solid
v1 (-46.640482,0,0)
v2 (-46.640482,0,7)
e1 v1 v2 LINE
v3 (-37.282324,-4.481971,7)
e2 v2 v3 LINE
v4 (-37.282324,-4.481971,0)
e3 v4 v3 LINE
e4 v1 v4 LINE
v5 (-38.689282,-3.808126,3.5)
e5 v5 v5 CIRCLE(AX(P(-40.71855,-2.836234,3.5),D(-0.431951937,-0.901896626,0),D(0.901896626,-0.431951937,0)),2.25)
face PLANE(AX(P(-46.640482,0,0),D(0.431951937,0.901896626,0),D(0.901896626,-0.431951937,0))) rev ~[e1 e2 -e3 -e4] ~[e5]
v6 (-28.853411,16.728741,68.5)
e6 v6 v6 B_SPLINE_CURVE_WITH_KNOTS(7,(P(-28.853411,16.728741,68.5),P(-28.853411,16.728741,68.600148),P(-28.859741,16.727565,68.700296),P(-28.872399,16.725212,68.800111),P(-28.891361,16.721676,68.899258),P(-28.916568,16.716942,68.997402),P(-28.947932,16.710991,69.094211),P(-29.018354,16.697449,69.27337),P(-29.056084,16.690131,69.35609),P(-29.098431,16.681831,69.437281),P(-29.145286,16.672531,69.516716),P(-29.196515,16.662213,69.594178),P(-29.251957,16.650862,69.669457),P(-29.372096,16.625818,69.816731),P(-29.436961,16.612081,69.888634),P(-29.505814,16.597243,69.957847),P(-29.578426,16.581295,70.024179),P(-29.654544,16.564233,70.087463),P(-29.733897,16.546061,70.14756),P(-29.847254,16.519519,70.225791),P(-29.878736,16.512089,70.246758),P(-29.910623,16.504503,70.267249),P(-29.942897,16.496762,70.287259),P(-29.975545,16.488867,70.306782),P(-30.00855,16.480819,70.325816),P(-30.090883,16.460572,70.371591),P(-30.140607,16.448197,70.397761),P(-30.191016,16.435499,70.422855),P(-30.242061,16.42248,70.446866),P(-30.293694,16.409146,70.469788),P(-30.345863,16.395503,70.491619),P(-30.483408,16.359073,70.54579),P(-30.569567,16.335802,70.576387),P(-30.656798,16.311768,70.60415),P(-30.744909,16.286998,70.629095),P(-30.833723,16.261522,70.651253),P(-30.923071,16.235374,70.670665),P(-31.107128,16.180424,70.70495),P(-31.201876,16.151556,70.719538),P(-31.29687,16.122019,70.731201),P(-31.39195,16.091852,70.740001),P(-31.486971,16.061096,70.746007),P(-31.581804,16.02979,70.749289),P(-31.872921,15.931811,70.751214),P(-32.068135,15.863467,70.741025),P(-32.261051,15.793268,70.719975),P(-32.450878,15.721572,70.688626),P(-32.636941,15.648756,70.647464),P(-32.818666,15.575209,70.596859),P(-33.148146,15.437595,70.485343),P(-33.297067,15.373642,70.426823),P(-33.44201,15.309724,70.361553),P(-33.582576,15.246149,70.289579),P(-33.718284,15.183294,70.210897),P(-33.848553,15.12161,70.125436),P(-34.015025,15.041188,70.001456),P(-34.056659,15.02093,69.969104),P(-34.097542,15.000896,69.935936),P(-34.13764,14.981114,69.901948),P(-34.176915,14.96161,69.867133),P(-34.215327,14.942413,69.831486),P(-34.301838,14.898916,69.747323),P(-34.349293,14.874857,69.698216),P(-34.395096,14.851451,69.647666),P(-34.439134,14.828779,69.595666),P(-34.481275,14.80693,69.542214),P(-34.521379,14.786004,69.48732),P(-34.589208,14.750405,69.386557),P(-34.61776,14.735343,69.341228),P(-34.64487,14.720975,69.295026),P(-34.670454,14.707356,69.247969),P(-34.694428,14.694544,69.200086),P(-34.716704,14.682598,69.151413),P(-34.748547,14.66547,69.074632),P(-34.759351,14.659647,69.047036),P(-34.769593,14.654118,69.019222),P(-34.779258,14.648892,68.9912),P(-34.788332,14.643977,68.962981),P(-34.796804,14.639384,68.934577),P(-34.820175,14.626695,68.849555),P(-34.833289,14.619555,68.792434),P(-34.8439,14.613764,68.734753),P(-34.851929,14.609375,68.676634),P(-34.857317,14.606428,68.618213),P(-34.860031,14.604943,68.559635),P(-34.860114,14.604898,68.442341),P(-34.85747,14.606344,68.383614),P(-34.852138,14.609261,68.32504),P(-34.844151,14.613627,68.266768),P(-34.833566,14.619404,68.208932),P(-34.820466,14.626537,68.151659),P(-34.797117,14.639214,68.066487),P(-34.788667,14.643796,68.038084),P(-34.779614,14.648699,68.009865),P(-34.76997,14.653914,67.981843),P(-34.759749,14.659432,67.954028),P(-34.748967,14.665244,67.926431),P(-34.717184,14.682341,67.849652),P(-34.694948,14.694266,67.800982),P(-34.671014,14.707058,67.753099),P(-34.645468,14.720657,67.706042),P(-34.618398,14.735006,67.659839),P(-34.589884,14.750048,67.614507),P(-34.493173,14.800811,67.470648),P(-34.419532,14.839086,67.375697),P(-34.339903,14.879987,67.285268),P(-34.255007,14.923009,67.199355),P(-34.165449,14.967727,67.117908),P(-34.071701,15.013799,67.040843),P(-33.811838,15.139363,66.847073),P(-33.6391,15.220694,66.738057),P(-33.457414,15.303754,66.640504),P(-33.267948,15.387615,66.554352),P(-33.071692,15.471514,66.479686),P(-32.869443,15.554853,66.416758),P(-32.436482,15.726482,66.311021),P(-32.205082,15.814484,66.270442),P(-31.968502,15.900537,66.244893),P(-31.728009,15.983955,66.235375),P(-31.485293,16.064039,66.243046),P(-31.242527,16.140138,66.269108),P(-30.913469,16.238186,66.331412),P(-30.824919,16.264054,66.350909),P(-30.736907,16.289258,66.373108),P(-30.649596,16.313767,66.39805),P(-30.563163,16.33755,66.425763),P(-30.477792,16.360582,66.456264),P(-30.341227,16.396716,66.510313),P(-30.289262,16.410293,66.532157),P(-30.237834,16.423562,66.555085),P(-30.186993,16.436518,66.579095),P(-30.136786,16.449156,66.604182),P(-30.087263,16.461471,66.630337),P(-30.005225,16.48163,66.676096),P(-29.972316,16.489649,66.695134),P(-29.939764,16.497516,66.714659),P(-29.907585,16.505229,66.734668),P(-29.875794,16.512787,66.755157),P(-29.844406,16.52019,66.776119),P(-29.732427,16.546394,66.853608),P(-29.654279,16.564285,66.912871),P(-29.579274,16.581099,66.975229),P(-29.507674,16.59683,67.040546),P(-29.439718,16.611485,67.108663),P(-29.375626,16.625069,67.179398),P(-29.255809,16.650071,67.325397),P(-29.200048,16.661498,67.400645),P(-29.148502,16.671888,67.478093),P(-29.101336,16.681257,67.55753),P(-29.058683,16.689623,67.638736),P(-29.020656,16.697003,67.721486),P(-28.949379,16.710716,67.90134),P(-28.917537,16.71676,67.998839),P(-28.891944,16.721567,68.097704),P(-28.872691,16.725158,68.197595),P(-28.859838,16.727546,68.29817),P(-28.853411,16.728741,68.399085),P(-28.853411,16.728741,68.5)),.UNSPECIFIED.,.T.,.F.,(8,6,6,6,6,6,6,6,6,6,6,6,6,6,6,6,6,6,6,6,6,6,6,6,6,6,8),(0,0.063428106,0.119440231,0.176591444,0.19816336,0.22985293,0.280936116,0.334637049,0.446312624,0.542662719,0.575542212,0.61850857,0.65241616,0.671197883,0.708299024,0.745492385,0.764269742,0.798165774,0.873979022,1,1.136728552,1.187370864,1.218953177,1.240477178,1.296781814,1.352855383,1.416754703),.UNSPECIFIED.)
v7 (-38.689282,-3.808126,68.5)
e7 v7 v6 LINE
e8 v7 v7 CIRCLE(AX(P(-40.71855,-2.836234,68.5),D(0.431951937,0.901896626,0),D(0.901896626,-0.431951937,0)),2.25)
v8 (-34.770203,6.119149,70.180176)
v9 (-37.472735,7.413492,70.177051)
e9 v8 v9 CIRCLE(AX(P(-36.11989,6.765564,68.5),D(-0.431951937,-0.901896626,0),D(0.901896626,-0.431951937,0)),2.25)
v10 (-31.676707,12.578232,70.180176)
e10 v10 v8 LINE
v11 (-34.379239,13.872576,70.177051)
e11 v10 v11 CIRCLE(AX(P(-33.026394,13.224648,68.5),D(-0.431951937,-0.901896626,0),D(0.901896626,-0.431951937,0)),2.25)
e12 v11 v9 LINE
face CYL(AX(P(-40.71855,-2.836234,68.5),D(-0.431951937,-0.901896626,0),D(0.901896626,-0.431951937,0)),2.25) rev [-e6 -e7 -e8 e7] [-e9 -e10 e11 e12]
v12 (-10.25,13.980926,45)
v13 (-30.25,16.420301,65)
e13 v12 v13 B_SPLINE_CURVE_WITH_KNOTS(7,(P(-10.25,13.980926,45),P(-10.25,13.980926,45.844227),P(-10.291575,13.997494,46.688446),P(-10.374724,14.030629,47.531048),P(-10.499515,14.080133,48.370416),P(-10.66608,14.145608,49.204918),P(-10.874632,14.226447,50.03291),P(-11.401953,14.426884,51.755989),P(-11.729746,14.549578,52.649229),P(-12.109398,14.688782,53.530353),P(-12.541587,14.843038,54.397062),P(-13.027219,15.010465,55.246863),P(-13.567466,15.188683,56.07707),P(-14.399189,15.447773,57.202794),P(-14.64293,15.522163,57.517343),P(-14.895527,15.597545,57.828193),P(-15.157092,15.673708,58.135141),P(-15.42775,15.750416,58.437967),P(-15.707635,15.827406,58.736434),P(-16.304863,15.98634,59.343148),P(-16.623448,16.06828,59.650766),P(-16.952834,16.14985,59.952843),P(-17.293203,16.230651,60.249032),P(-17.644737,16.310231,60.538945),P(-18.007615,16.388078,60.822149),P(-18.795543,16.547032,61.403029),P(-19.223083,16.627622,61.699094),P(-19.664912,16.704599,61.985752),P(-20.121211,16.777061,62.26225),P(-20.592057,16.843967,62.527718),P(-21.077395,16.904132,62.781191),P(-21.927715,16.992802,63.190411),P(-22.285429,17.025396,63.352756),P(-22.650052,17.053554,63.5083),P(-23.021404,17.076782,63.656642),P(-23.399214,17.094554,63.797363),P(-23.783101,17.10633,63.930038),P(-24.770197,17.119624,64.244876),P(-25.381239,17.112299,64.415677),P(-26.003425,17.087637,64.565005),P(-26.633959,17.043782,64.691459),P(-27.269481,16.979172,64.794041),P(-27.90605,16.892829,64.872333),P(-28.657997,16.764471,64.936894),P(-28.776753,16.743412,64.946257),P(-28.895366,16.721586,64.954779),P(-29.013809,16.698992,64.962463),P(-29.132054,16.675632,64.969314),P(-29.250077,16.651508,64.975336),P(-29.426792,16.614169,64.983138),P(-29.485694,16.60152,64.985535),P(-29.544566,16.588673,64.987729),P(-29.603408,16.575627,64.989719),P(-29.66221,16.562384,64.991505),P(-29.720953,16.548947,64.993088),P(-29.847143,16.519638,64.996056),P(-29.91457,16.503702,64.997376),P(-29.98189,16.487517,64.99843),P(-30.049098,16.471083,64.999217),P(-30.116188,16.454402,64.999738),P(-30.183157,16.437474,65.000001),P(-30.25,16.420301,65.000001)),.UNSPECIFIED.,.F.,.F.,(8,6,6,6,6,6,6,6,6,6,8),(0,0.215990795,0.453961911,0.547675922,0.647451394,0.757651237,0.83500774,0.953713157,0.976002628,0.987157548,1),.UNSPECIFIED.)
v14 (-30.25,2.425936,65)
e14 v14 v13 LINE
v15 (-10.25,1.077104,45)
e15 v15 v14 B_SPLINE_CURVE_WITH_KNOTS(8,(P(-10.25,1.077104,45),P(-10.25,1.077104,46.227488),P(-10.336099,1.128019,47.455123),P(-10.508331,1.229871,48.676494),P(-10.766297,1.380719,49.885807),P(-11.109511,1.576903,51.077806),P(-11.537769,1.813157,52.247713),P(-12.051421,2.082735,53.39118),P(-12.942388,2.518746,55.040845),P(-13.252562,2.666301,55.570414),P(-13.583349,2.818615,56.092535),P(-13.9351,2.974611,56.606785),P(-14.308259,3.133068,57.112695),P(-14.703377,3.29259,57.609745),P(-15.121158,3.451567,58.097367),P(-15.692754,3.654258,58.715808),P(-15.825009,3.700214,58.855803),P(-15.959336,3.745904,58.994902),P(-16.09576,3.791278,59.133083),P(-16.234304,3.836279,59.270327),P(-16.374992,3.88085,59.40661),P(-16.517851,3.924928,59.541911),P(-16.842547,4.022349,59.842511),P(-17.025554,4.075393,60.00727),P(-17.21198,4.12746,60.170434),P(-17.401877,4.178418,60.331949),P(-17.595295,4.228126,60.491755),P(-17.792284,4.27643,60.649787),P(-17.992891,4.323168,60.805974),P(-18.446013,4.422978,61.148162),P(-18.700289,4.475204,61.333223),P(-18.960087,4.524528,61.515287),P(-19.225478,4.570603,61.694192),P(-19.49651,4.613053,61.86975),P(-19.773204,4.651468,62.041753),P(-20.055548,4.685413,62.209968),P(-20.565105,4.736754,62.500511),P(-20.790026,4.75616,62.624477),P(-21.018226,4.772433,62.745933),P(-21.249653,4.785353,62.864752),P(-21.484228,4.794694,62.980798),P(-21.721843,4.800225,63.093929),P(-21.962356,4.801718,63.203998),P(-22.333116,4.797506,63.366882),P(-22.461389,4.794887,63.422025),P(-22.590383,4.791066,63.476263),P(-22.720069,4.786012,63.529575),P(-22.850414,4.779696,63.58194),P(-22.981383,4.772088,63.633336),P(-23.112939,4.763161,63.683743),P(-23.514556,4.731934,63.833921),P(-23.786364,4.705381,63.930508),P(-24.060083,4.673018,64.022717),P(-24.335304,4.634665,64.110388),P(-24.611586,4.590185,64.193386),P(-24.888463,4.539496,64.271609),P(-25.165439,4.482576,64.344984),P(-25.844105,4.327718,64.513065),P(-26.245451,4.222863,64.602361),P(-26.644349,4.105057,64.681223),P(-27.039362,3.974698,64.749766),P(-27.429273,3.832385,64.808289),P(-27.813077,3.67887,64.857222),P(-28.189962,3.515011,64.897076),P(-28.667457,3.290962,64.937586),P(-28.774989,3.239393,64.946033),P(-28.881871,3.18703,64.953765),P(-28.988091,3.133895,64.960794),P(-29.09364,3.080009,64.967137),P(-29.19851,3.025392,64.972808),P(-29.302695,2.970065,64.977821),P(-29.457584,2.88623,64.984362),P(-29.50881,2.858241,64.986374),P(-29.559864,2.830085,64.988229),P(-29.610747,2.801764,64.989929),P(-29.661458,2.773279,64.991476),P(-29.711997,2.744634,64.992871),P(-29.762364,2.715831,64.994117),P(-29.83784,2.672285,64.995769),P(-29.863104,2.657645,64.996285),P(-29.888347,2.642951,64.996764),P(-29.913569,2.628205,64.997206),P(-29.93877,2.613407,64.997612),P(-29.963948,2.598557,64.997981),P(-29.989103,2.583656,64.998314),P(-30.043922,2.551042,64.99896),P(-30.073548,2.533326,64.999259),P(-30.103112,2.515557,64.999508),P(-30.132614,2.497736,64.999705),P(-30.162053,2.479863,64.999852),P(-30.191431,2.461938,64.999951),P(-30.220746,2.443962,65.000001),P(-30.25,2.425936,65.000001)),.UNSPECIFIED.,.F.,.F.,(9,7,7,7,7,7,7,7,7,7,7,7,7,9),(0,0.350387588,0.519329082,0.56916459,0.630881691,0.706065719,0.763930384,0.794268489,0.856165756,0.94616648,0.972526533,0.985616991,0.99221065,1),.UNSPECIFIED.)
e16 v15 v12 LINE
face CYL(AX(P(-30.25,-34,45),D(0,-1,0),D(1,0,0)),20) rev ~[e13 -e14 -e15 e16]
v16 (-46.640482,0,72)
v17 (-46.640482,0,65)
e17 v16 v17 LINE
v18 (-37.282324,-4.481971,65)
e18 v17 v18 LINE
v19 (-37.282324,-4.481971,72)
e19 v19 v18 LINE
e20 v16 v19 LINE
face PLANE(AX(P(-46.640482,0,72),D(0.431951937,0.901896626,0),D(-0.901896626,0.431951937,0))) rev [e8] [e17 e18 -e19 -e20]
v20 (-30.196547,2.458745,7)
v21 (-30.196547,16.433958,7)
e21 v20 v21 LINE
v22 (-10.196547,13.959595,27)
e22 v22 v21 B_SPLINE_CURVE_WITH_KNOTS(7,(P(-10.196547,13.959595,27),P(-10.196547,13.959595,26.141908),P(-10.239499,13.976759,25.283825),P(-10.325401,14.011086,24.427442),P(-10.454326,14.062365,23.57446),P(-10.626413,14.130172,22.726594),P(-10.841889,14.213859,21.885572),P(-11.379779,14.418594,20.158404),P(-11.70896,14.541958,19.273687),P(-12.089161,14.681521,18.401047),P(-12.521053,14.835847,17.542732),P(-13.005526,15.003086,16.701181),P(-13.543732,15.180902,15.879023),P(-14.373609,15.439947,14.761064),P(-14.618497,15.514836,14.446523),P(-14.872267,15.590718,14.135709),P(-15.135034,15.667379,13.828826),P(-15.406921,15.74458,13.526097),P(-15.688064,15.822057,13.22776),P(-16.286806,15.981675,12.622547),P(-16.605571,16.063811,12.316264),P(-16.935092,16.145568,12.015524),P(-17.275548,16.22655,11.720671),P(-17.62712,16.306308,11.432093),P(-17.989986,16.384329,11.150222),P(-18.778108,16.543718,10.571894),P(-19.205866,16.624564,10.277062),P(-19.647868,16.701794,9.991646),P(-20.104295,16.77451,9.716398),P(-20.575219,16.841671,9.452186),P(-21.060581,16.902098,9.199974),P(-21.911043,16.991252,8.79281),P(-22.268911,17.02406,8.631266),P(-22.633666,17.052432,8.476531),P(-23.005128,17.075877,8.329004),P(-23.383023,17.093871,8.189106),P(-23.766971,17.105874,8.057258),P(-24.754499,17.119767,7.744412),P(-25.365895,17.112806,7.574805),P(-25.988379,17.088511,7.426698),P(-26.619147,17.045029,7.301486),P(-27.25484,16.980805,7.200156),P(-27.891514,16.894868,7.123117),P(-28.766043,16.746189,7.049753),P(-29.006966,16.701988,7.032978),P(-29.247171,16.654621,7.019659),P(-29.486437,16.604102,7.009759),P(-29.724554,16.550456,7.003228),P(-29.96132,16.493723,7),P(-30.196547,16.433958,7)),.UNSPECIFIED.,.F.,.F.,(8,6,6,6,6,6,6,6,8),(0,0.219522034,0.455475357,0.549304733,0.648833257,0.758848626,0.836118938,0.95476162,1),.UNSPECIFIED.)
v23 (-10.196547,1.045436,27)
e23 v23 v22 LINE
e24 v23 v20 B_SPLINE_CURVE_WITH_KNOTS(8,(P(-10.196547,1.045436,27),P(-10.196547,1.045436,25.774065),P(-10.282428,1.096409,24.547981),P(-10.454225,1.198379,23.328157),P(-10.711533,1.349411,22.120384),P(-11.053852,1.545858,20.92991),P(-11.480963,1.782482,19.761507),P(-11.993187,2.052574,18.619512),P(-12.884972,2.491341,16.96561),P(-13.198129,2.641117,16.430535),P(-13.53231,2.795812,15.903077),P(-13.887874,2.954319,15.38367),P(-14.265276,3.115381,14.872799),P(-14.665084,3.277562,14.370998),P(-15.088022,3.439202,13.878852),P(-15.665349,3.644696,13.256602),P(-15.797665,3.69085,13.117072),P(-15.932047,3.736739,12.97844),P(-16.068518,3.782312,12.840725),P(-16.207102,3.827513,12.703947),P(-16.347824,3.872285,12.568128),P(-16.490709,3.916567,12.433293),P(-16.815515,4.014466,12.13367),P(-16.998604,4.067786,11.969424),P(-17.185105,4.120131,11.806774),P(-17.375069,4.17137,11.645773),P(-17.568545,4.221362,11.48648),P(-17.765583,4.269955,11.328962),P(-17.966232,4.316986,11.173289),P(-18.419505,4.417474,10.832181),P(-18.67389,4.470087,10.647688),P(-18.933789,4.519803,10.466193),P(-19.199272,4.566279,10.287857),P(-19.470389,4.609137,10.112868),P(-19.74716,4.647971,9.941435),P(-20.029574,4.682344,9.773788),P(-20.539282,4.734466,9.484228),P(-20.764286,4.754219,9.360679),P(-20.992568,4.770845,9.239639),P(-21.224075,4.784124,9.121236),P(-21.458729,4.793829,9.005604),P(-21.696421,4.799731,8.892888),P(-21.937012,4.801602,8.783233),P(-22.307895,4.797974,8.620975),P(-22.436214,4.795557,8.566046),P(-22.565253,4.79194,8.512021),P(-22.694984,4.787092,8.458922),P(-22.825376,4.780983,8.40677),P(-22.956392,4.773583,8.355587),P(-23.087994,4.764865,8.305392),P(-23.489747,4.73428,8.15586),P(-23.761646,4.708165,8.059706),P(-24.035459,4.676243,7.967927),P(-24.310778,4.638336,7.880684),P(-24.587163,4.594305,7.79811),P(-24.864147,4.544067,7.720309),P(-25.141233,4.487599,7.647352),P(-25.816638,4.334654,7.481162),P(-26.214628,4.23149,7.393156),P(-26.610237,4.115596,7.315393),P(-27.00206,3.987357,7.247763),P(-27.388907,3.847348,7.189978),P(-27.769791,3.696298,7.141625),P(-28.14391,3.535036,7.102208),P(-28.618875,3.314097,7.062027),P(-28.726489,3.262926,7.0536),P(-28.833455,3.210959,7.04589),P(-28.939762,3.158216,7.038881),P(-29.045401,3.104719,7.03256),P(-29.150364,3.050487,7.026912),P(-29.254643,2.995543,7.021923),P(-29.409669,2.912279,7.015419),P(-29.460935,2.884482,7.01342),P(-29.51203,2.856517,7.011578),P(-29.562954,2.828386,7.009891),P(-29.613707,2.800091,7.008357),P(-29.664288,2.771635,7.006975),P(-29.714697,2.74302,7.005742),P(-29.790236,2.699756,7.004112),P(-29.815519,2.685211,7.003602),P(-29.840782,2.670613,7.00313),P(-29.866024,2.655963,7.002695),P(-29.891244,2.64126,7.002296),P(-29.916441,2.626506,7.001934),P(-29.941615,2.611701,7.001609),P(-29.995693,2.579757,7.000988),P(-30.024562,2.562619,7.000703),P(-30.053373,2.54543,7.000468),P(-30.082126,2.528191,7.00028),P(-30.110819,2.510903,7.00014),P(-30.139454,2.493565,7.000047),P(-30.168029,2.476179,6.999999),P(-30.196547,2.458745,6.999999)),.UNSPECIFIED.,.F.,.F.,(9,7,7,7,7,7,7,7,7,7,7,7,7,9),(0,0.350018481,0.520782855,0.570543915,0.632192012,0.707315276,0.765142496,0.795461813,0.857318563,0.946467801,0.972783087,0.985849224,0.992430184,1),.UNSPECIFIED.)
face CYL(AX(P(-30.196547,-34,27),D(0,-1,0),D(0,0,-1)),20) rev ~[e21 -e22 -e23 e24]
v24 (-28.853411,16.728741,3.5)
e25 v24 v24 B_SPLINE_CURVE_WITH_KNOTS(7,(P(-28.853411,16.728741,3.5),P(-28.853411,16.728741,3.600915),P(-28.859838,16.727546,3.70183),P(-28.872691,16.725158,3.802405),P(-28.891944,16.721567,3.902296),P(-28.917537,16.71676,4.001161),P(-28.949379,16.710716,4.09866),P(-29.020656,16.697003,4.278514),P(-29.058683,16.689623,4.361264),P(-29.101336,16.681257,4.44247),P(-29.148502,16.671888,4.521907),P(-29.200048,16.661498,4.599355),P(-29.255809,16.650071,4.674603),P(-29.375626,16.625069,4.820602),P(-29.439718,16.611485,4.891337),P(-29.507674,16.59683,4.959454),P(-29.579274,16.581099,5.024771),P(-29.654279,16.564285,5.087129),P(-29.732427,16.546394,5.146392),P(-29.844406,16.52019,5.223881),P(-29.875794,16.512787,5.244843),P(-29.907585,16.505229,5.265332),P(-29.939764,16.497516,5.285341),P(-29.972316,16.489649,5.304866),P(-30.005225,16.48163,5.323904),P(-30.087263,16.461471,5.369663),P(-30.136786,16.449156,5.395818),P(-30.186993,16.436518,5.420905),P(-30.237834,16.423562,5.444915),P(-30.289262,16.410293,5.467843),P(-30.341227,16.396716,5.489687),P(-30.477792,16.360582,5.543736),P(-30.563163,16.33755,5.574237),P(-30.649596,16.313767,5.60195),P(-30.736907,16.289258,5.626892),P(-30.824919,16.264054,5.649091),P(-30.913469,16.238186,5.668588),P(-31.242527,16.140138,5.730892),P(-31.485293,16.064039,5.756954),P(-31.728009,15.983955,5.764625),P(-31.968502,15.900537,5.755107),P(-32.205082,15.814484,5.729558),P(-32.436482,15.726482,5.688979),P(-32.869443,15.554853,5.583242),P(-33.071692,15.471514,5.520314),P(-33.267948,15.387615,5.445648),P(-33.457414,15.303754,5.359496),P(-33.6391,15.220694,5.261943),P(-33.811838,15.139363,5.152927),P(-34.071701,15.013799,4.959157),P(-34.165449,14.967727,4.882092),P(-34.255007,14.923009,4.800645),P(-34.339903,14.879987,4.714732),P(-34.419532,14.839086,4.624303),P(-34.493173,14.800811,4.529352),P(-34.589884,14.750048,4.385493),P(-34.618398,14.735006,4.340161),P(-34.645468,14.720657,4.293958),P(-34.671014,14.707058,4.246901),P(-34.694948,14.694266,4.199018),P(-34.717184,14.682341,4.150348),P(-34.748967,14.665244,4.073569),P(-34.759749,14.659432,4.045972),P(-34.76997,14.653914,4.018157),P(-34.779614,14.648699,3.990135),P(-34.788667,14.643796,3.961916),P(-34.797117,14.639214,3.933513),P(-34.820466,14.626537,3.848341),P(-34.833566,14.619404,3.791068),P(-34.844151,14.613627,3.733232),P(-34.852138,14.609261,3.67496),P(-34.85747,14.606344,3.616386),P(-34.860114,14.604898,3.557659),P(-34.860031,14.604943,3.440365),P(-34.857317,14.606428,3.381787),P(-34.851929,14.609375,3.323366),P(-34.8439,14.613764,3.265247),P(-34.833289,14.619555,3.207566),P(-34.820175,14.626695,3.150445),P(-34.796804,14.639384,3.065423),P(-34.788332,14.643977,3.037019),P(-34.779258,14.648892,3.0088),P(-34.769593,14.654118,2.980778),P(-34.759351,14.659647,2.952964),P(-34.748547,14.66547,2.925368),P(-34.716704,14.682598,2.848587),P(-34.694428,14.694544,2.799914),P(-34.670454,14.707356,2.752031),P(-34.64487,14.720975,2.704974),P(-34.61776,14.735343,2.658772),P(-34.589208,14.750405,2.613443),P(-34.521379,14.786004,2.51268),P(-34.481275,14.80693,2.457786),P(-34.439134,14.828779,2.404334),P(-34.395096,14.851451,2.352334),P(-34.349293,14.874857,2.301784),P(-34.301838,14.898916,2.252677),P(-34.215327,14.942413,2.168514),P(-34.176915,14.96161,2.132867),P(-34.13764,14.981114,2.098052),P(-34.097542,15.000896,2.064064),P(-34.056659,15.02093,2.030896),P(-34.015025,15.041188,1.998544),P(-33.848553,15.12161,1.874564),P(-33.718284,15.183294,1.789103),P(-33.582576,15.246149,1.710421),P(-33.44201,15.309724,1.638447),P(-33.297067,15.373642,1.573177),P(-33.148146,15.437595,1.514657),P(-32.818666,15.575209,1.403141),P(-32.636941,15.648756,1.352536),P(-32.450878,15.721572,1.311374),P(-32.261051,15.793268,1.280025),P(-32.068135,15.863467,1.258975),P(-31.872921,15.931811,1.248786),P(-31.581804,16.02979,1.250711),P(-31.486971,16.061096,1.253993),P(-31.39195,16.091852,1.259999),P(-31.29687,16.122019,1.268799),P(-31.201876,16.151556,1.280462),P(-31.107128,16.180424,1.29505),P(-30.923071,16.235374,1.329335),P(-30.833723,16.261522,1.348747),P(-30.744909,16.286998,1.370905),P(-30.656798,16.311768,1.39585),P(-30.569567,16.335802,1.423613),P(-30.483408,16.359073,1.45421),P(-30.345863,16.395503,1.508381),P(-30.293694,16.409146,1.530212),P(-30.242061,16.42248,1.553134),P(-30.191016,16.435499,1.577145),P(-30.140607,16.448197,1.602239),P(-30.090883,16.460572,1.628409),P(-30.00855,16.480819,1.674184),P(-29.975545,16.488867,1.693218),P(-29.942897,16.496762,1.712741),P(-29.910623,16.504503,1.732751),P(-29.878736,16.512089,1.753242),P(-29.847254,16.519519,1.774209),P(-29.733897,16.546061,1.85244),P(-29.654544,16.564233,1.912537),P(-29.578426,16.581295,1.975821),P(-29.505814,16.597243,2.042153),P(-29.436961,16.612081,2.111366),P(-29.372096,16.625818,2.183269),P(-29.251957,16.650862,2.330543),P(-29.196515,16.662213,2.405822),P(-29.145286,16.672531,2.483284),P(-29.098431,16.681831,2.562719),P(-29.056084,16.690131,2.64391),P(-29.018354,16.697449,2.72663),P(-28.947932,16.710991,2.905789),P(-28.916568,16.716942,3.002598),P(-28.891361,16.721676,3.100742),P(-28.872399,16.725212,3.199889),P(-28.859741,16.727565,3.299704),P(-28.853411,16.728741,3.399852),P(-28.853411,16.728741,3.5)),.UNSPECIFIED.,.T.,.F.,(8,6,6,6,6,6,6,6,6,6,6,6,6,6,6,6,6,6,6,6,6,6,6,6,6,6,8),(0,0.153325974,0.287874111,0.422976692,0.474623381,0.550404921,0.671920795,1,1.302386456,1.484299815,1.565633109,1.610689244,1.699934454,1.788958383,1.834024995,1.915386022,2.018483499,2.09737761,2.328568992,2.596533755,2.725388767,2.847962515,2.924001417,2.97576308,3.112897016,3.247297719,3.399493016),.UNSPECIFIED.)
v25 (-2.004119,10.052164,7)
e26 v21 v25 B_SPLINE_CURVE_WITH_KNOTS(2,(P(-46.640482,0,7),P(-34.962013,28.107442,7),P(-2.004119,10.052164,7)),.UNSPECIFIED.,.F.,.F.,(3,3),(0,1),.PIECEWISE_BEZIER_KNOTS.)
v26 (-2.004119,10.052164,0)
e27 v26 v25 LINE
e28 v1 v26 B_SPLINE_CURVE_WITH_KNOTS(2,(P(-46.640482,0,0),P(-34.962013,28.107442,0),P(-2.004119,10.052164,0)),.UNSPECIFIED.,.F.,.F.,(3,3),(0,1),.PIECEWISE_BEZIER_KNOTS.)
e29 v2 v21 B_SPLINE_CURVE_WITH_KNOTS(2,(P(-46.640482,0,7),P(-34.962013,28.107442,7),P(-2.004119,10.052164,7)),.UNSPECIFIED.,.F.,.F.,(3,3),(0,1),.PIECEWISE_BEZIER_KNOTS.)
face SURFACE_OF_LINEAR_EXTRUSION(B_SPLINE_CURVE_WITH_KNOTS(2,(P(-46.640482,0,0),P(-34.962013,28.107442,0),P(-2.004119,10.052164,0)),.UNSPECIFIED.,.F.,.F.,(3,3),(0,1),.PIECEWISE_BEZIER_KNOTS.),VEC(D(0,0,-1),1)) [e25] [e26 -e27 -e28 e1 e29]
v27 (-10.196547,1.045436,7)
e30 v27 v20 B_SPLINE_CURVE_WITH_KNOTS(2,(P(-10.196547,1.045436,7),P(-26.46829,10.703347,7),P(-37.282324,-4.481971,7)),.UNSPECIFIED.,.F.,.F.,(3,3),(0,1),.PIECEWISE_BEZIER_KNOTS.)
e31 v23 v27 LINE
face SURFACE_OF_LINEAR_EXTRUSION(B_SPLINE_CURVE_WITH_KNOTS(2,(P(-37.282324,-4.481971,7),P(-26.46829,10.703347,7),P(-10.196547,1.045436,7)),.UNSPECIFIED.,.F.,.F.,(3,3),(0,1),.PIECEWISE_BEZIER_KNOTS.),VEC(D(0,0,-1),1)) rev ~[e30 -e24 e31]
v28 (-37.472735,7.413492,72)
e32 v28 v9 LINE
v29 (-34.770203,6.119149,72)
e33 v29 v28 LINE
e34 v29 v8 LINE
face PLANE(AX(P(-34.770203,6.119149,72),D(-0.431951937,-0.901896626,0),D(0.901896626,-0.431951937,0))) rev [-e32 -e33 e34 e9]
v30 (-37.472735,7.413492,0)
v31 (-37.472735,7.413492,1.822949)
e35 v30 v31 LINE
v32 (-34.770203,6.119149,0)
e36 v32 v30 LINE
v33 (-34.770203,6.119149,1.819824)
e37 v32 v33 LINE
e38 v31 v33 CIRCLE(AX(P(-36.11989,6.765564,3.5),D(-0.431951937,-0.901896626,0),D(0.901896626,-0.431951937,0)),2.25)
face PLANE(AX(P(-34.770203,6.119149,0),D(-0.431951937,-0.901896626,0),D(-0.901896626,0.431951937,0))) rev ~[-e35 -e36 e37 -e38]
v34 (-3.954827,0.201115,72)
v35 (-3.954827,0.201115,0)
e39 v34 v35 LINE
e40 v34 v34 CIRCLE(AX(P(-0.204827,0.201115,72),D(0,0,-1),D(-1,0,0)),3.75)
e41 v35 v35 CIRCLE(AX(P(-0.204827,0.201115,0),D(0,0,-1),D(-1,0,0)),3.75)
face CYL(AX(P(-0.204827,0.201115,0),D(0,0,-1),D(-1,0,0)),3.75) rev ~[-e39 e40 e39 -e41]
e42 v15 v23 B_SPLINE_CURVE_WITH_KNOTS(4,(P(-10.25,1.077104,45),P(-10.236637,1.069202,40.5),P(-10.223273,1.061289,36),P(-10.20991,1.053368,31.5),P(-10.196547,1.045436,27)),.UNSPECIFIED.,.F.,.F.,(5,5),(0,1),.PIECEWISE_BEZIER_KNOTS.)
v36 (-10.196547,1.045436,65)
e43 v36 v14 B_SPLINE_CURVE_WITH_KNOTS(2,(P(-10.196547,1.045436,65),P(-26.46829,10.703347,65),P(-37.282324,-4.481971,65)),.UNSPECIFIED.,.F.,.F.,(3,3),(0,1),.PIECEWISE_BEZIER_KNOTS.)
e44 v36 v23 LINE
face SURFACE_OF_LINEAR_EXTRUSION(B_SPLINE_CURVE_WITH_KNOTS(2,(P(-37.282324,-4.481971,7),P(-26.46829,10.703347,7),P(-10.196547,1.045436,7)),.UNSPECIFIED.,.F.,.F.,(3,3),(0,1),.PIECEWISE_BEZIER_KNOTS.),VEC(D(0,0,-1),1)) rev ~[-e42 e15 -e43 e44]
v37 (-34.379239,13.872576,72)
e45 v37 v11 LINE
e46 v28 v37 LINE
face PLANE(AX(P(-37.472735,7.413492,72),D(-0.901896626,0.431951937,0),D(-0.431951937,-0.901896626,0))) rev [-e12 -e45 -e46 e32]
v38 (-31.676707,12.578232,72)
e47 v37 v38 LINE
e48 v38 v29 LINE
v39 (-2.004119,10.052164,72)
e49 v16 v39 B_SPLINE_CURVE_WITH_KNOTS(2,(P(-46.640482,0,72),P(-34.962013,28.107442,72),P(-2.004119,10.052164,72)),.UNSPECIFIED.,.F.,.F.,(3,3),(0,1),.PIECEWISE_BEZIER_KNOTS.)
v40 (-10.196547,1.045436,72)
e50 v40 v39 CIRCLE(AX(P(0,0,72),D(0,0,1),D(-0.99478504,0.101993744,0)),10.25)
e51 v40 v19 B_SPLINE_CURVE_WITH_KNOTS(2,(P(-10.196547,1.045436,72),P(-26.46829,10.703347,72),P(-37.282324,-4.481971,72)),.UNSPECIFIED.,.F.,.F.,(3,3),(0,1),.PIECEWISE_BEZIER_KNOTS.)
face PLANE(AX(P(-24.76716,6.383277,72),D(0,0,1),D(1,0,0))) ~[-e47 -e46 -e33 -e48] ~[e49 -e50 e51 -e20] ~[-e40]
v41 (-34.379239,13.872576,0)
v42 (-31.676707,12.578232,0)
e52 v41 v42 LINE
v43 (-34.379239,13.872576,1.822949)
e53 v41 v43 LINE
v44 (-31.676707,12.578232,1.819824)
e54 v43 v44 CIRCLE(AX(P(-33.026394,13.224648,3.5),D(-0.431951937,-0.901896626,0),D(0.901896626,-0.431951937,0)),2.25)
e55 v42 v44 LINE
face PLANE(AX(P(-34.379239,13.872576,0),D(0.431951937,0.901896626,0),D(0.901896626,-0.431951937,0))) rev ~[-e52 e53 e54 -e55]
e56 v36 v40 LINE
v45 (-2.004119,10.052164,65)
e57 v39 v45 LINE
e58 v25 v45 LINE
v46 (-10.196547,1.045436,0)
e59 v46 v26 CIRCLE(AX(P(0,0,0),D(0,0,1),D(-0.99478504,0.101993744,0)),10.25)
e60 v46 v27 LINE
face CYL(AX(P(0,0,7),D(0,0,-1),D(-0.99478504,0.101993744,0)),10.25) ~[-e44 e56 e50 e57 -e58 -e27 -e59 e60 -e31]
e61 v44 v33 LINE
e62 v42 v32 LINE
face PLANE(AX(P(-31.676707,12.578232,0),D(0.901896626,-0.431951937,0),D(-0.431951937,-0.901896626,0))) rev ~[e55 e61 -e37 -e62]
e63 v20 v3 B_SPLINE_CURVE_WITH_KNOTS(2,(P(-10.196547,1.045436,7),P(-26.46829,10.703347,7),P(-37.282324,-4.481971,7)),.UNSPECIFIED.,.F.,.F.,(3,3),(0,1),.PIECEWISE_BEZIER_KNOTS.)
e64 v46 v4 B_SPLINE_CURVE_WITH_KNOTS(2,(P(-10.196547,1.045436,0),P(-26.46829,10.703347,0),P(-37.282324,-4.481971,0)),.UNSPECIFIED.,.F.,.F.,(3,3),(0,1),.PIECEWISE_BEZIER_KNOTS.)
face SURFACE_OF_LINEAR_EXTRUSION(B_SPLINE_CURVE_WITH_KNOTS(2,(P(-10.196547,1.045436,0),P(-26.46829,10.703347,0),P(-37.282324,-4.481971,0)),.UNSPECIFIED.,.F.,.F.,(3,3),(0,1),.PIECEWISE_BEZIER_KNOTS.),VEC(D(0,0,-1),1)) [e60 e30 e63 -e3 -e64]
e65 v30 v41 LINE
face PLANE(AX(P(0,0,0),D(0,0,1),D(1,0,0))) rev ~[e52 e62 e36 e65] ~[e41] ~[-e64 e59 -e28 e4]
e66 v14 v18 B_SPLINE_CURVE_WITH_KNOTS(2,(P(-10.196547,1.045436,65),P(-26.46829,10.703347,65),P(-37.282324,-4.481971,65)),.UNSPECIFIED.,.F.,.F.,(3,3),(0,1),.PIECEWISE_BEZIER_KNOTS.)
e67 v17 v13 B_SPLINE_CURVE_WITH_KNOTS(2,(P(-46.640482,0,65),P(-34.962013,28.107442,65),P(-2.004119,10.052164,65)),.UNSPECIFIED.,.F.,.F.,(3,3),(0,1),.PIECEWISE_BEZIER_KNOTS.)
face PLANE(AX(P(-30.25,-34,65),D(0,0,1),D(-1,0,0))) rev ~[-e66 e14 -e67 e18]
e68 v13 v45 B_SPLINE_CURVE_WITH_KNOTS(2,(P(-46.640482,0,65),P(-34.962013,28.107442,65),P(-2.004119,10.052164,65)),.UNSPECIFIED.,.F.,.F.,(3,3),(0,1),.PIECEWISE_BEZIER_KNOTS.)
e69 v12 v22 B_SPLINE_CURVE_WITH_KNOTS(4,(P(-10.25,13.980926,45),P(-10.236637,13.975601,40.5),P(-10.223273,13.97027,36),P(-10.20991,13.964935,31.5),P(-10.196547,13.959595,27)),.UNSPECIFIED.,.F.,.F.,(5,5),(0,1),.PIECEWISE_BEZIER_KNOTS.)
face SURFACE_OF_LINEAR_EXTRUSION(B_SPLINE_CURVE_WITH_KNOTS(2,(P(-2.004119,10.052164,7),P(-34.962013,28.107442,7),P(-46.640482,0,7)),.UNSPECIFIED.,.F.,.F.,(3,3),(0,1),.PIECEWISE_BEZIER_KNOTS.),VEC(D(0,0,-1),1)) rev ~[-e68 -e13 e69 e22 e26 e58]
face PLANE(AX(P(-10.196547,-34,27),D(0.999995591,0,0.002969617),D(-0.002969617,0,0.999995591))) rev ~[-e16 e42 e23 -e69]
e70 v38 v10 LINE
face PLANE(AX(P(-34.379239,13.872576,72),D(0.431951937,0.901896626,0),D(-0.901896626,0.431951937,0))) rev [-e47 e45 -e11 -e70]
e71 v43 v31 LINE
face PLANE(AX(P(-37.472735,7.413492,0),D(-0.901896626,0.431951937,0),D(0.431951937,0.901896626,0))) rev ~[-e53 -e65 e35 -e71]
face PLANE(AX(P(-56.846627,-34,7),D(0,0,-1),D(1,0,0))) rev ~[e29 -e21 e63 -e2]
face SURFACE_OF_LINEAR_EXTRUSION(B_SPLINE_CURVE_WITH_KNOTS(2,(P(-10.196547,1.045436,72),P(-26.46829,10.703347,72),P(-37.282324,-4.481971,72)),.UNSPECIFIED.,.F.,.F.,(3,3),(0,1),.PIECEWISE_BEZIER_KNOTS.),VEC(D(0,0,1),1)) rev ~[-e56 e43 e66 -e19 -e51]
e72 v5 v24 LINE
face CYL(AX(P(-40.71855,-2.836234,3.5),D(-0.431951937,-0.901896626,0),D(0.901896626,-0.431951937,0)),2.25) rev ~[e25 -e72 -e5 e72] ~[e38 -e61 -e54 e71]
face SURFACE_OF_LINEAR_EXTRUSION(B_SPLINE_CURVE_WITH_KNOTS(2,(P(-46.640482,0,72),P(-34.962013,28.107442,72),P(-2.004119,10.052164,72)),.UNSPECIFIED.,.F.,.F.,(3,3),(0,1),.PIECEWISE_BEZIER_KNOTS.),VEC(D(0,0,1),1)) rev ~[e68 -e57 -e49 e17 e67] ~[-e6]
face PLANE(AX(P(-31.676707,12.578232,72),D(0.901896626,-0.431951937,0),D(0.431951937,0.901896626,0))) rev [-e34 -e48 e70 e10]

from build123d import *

# Parameters (mm, degrees)
SKETCH1_R                = 10.25
BOSS_EXTRUDE1_DEPTH      = 7
SKETCH2_R                = 3.75
CUT_EXTRUDE1_DEPTH       = 2
BOSS_EXTRUDE3_START      = -7
BOSS_EXTRUDE3_DEPTH      = 7
SKETCH11_R               = 2.25
CUT_EXTRUDE3_DEPTH       = 30
CUT_EXTRUDE4_DEPTH       = 3
SKETCH15_R               = 10.25
BOSS_EXTRUDE4_DEPTH      = 65
BOSS_EXTRUDE5_DEPTH      = 58
CUT_EXTRUDE5_DEPTH       = 44
CUT_EXTRUDE5_DEPTH_BACK  = 34
BOSS_EXTRUDE6_DEPTH      = 15
BOSS_EXTRUDE6_DEPTH_BACK = 20
SKETCH20_R               = 10.25
SKETCH21_R               = 3.75
CUT_EXTRUDE6_DEPTH       = 92


with BuildPart() as part:
    # Sketch1 → Boss-Extrude1 (new body)
    with BuildSketch(Plane.XY):
        Circle(SKETCH1_R)
    extrude(amount=BOSS_EXTRUDE1_DEPTH)

    # Sketch2 → Cut-Extrude1 (cut)
    with BuildSketch(Plane(origin=(0, 0, 0), x_dir=(-1, 0, 0), z_dir=(0, 0, -1))):
        with Locations((0.204827132, 0.201115052)):
            Circle(SKETCH2_R)
    cut_extrude1 = extrude(amount=-CUT_EXTRUDE1_DEPTH, mode=Mode.SUBTRACT)

    # Sketch4 → Boss-Extrude3 (add)
    with BuildSketch(Plane.XY.offset(7).offset(BOSS_EXTRUDE3_START)):
        with BuildLine():
            add(Edge.make_bspline(
                [(-46.64048221, 0), (-34.962013149, 28.10744238), (-2.004119339, 10.052164228)],
                knots=[0, 0, 0, 1, 1, 1], degree=2))
            Line((-46.64048221, 0), (-37.28232369, -4.481971191))
            add(Edge.make_bspline(
                [(-10.196546661, 1.045435881), (-26.46828973, 10.703347347), (-37.28232369, -4.481971191)],
                knots=[0, 0, 0, 1, 1, 1], degree=2))
            ThreePointArc((-10.196546661, 1.045435881), (-7.58250299, 6.896966609), (-2.004119339, 10.052164228))
        make_face()
    boss_extrude3 = extrude(amount=BOSS_EXTRUDE3_DEPTH)

    # Sketch11 → Cut-Extrude3 (cut)
    with BuildSketch(Plane(origin=(-8.702296632, -18.170012234, 0), x_dir=(0, 0, 1), z_dir=(-0.4319519366403788, -0.9018966262452843, 0))):
        with Locations(Location((3.5, 35.498805819, 0), (0, 0, 270))):
            Circle(SKETCH11_R)
    cut_extrude3 = extrude(amount=-CUT_EXTRUDE3_DEPTH, mode=Mode.SUBTRACT)

    # Sketch13 → Cut-Extrude4 (cut)
    with BuildSketch(Plane(origin=(0, 0, 0), x_dir=(-1, 0, 0), z_dir=(0, 0, -1))):
        Polygon((34.379239122, 13.872575937), (31.676706965, 12.578232477), (34.770203183, 6.119148571), (37.47273534, 7.41349203), align=None)
    cut_extrude4 = extrude(amount=-CUT_EXTRUDE4_DEPTH, mode=Mode.SUBTRACT)

    # Sketch15 → Boss-Extrude4 (add)
    with BuildSketch(Plane.XY.offset(7)):
        with Locations(Location((0, 0, 0), (0, 0, 174.146009255))):
            Circle(SKETCH15_R)
    extrude(amount=BOSS_EXTRUDE4_DEPTH)

    # Mirror1: Cut-Extrude1, Boss-Extrude3, Cut-Extrude3, Cut-Extrude4 across plane
    add(cut_extrude1.mirror(Plane.XY.offset(36)), mode=Mode.SUBTRACT)
    add(boss_extrude3.mirror(Plane.XY.offset(36)))
    add(cut_extrude3.mirror(Plane.XY.offset(36)), mode=Mode.SUBTRACT)
    add(cut_extrude4.mirror(Plane.XY.offset(36)), mode=Mode.SUBTRACT)

    # Sketch18 → Boss-Extrude5 (add)
    with BuildSketch(Plane.XY.offset(7)):
        with BuildLine():
            Line((-46.64048221, 0), (-37.28232368, -4.481971176))
            add(Edge.make_bspline(
                [(-37.28232368, -4.481971176), (-26.468289723, 10.703347342), (-10.196546661, 1.045435881)],
                knots=[0, 0, 0, 1, 1, 1], degree=2))
            ThreePointArc((-10.196546661, 1.045435881), (-7.58250299, 6.896966609), (-2.004119339, 10.052164228))
            add(Edge.make_bspline(
                [(-2.004119339, 10.052164228), (-34.962013149, 28.10744238), (-46.64048221, 0)],
                knots=[0, 0, 0, 1, 1, 1], degree=2))
        make_face()
    extrude(amount=BOSS_EXTRUDE5_DEPTH)

    # Sketch19 → Cut-Extrude5 (cut, two sides: drawn at the far end of the back side and taken through both)
    with BuildSketch(Plane(origin=(0, 0, 0), x_dir=(1, 0, 0), z_dir=(0, 1, 0)).offset(-CUT_EXTRUDE5_DEPTH_BACK)):
        with BuildLine():
            Line((-56.84662667, -7), (-30.196546661, -7))
            ThreePointArc((-30.196546661, -7), (-16.054411038, -12.857864376), (-10.196546661, -27))
            Line((-10.196546661, -27), (-10.25, -45))
            ThreePointArc((-10.25, -45), (-16.107864376, -59.142135624), (-30.25, -65))
            Line((-30.25, -65), (-56.84662667, -65))
            Line((-56.84662667, -65), (-56.84662667, -7))
        make_face()
    extrude(amount=CUT_EXTRUDE5_DEPTH + CUT_EXTRUDE5_DEPTH_BACK, mode=Mode.SUBTRACT)

    # Sketch20 → Boss-Extrude6 (add, two sides: drawn at the far end of the back side and taken through both)
    with BuildSketch(Plane.XY.offset(36).offset(-BOSS_EXTRUDE6_DEPTH_BACK)):
        Circle(SKETCH20_R)
    extrude(amount=BOSS_EXTRUDE6_DEPTH + BOSS_EXTRUDE6_DEPTH_BACK)

    # Sketch21 → Cut-Extrude6 (cut)
    with BuildSketch(Plane.XY.offset(70)):
        with Locations(Location((-0.204827132, 0.201115052, 0), (0, 0, 180))):
            Circle(SKETCH21_R)
    extrude(amount=-CUT_EXTRUDE6_DEPTH, mode=Mode.SUBTRACT)


solid = part.part
